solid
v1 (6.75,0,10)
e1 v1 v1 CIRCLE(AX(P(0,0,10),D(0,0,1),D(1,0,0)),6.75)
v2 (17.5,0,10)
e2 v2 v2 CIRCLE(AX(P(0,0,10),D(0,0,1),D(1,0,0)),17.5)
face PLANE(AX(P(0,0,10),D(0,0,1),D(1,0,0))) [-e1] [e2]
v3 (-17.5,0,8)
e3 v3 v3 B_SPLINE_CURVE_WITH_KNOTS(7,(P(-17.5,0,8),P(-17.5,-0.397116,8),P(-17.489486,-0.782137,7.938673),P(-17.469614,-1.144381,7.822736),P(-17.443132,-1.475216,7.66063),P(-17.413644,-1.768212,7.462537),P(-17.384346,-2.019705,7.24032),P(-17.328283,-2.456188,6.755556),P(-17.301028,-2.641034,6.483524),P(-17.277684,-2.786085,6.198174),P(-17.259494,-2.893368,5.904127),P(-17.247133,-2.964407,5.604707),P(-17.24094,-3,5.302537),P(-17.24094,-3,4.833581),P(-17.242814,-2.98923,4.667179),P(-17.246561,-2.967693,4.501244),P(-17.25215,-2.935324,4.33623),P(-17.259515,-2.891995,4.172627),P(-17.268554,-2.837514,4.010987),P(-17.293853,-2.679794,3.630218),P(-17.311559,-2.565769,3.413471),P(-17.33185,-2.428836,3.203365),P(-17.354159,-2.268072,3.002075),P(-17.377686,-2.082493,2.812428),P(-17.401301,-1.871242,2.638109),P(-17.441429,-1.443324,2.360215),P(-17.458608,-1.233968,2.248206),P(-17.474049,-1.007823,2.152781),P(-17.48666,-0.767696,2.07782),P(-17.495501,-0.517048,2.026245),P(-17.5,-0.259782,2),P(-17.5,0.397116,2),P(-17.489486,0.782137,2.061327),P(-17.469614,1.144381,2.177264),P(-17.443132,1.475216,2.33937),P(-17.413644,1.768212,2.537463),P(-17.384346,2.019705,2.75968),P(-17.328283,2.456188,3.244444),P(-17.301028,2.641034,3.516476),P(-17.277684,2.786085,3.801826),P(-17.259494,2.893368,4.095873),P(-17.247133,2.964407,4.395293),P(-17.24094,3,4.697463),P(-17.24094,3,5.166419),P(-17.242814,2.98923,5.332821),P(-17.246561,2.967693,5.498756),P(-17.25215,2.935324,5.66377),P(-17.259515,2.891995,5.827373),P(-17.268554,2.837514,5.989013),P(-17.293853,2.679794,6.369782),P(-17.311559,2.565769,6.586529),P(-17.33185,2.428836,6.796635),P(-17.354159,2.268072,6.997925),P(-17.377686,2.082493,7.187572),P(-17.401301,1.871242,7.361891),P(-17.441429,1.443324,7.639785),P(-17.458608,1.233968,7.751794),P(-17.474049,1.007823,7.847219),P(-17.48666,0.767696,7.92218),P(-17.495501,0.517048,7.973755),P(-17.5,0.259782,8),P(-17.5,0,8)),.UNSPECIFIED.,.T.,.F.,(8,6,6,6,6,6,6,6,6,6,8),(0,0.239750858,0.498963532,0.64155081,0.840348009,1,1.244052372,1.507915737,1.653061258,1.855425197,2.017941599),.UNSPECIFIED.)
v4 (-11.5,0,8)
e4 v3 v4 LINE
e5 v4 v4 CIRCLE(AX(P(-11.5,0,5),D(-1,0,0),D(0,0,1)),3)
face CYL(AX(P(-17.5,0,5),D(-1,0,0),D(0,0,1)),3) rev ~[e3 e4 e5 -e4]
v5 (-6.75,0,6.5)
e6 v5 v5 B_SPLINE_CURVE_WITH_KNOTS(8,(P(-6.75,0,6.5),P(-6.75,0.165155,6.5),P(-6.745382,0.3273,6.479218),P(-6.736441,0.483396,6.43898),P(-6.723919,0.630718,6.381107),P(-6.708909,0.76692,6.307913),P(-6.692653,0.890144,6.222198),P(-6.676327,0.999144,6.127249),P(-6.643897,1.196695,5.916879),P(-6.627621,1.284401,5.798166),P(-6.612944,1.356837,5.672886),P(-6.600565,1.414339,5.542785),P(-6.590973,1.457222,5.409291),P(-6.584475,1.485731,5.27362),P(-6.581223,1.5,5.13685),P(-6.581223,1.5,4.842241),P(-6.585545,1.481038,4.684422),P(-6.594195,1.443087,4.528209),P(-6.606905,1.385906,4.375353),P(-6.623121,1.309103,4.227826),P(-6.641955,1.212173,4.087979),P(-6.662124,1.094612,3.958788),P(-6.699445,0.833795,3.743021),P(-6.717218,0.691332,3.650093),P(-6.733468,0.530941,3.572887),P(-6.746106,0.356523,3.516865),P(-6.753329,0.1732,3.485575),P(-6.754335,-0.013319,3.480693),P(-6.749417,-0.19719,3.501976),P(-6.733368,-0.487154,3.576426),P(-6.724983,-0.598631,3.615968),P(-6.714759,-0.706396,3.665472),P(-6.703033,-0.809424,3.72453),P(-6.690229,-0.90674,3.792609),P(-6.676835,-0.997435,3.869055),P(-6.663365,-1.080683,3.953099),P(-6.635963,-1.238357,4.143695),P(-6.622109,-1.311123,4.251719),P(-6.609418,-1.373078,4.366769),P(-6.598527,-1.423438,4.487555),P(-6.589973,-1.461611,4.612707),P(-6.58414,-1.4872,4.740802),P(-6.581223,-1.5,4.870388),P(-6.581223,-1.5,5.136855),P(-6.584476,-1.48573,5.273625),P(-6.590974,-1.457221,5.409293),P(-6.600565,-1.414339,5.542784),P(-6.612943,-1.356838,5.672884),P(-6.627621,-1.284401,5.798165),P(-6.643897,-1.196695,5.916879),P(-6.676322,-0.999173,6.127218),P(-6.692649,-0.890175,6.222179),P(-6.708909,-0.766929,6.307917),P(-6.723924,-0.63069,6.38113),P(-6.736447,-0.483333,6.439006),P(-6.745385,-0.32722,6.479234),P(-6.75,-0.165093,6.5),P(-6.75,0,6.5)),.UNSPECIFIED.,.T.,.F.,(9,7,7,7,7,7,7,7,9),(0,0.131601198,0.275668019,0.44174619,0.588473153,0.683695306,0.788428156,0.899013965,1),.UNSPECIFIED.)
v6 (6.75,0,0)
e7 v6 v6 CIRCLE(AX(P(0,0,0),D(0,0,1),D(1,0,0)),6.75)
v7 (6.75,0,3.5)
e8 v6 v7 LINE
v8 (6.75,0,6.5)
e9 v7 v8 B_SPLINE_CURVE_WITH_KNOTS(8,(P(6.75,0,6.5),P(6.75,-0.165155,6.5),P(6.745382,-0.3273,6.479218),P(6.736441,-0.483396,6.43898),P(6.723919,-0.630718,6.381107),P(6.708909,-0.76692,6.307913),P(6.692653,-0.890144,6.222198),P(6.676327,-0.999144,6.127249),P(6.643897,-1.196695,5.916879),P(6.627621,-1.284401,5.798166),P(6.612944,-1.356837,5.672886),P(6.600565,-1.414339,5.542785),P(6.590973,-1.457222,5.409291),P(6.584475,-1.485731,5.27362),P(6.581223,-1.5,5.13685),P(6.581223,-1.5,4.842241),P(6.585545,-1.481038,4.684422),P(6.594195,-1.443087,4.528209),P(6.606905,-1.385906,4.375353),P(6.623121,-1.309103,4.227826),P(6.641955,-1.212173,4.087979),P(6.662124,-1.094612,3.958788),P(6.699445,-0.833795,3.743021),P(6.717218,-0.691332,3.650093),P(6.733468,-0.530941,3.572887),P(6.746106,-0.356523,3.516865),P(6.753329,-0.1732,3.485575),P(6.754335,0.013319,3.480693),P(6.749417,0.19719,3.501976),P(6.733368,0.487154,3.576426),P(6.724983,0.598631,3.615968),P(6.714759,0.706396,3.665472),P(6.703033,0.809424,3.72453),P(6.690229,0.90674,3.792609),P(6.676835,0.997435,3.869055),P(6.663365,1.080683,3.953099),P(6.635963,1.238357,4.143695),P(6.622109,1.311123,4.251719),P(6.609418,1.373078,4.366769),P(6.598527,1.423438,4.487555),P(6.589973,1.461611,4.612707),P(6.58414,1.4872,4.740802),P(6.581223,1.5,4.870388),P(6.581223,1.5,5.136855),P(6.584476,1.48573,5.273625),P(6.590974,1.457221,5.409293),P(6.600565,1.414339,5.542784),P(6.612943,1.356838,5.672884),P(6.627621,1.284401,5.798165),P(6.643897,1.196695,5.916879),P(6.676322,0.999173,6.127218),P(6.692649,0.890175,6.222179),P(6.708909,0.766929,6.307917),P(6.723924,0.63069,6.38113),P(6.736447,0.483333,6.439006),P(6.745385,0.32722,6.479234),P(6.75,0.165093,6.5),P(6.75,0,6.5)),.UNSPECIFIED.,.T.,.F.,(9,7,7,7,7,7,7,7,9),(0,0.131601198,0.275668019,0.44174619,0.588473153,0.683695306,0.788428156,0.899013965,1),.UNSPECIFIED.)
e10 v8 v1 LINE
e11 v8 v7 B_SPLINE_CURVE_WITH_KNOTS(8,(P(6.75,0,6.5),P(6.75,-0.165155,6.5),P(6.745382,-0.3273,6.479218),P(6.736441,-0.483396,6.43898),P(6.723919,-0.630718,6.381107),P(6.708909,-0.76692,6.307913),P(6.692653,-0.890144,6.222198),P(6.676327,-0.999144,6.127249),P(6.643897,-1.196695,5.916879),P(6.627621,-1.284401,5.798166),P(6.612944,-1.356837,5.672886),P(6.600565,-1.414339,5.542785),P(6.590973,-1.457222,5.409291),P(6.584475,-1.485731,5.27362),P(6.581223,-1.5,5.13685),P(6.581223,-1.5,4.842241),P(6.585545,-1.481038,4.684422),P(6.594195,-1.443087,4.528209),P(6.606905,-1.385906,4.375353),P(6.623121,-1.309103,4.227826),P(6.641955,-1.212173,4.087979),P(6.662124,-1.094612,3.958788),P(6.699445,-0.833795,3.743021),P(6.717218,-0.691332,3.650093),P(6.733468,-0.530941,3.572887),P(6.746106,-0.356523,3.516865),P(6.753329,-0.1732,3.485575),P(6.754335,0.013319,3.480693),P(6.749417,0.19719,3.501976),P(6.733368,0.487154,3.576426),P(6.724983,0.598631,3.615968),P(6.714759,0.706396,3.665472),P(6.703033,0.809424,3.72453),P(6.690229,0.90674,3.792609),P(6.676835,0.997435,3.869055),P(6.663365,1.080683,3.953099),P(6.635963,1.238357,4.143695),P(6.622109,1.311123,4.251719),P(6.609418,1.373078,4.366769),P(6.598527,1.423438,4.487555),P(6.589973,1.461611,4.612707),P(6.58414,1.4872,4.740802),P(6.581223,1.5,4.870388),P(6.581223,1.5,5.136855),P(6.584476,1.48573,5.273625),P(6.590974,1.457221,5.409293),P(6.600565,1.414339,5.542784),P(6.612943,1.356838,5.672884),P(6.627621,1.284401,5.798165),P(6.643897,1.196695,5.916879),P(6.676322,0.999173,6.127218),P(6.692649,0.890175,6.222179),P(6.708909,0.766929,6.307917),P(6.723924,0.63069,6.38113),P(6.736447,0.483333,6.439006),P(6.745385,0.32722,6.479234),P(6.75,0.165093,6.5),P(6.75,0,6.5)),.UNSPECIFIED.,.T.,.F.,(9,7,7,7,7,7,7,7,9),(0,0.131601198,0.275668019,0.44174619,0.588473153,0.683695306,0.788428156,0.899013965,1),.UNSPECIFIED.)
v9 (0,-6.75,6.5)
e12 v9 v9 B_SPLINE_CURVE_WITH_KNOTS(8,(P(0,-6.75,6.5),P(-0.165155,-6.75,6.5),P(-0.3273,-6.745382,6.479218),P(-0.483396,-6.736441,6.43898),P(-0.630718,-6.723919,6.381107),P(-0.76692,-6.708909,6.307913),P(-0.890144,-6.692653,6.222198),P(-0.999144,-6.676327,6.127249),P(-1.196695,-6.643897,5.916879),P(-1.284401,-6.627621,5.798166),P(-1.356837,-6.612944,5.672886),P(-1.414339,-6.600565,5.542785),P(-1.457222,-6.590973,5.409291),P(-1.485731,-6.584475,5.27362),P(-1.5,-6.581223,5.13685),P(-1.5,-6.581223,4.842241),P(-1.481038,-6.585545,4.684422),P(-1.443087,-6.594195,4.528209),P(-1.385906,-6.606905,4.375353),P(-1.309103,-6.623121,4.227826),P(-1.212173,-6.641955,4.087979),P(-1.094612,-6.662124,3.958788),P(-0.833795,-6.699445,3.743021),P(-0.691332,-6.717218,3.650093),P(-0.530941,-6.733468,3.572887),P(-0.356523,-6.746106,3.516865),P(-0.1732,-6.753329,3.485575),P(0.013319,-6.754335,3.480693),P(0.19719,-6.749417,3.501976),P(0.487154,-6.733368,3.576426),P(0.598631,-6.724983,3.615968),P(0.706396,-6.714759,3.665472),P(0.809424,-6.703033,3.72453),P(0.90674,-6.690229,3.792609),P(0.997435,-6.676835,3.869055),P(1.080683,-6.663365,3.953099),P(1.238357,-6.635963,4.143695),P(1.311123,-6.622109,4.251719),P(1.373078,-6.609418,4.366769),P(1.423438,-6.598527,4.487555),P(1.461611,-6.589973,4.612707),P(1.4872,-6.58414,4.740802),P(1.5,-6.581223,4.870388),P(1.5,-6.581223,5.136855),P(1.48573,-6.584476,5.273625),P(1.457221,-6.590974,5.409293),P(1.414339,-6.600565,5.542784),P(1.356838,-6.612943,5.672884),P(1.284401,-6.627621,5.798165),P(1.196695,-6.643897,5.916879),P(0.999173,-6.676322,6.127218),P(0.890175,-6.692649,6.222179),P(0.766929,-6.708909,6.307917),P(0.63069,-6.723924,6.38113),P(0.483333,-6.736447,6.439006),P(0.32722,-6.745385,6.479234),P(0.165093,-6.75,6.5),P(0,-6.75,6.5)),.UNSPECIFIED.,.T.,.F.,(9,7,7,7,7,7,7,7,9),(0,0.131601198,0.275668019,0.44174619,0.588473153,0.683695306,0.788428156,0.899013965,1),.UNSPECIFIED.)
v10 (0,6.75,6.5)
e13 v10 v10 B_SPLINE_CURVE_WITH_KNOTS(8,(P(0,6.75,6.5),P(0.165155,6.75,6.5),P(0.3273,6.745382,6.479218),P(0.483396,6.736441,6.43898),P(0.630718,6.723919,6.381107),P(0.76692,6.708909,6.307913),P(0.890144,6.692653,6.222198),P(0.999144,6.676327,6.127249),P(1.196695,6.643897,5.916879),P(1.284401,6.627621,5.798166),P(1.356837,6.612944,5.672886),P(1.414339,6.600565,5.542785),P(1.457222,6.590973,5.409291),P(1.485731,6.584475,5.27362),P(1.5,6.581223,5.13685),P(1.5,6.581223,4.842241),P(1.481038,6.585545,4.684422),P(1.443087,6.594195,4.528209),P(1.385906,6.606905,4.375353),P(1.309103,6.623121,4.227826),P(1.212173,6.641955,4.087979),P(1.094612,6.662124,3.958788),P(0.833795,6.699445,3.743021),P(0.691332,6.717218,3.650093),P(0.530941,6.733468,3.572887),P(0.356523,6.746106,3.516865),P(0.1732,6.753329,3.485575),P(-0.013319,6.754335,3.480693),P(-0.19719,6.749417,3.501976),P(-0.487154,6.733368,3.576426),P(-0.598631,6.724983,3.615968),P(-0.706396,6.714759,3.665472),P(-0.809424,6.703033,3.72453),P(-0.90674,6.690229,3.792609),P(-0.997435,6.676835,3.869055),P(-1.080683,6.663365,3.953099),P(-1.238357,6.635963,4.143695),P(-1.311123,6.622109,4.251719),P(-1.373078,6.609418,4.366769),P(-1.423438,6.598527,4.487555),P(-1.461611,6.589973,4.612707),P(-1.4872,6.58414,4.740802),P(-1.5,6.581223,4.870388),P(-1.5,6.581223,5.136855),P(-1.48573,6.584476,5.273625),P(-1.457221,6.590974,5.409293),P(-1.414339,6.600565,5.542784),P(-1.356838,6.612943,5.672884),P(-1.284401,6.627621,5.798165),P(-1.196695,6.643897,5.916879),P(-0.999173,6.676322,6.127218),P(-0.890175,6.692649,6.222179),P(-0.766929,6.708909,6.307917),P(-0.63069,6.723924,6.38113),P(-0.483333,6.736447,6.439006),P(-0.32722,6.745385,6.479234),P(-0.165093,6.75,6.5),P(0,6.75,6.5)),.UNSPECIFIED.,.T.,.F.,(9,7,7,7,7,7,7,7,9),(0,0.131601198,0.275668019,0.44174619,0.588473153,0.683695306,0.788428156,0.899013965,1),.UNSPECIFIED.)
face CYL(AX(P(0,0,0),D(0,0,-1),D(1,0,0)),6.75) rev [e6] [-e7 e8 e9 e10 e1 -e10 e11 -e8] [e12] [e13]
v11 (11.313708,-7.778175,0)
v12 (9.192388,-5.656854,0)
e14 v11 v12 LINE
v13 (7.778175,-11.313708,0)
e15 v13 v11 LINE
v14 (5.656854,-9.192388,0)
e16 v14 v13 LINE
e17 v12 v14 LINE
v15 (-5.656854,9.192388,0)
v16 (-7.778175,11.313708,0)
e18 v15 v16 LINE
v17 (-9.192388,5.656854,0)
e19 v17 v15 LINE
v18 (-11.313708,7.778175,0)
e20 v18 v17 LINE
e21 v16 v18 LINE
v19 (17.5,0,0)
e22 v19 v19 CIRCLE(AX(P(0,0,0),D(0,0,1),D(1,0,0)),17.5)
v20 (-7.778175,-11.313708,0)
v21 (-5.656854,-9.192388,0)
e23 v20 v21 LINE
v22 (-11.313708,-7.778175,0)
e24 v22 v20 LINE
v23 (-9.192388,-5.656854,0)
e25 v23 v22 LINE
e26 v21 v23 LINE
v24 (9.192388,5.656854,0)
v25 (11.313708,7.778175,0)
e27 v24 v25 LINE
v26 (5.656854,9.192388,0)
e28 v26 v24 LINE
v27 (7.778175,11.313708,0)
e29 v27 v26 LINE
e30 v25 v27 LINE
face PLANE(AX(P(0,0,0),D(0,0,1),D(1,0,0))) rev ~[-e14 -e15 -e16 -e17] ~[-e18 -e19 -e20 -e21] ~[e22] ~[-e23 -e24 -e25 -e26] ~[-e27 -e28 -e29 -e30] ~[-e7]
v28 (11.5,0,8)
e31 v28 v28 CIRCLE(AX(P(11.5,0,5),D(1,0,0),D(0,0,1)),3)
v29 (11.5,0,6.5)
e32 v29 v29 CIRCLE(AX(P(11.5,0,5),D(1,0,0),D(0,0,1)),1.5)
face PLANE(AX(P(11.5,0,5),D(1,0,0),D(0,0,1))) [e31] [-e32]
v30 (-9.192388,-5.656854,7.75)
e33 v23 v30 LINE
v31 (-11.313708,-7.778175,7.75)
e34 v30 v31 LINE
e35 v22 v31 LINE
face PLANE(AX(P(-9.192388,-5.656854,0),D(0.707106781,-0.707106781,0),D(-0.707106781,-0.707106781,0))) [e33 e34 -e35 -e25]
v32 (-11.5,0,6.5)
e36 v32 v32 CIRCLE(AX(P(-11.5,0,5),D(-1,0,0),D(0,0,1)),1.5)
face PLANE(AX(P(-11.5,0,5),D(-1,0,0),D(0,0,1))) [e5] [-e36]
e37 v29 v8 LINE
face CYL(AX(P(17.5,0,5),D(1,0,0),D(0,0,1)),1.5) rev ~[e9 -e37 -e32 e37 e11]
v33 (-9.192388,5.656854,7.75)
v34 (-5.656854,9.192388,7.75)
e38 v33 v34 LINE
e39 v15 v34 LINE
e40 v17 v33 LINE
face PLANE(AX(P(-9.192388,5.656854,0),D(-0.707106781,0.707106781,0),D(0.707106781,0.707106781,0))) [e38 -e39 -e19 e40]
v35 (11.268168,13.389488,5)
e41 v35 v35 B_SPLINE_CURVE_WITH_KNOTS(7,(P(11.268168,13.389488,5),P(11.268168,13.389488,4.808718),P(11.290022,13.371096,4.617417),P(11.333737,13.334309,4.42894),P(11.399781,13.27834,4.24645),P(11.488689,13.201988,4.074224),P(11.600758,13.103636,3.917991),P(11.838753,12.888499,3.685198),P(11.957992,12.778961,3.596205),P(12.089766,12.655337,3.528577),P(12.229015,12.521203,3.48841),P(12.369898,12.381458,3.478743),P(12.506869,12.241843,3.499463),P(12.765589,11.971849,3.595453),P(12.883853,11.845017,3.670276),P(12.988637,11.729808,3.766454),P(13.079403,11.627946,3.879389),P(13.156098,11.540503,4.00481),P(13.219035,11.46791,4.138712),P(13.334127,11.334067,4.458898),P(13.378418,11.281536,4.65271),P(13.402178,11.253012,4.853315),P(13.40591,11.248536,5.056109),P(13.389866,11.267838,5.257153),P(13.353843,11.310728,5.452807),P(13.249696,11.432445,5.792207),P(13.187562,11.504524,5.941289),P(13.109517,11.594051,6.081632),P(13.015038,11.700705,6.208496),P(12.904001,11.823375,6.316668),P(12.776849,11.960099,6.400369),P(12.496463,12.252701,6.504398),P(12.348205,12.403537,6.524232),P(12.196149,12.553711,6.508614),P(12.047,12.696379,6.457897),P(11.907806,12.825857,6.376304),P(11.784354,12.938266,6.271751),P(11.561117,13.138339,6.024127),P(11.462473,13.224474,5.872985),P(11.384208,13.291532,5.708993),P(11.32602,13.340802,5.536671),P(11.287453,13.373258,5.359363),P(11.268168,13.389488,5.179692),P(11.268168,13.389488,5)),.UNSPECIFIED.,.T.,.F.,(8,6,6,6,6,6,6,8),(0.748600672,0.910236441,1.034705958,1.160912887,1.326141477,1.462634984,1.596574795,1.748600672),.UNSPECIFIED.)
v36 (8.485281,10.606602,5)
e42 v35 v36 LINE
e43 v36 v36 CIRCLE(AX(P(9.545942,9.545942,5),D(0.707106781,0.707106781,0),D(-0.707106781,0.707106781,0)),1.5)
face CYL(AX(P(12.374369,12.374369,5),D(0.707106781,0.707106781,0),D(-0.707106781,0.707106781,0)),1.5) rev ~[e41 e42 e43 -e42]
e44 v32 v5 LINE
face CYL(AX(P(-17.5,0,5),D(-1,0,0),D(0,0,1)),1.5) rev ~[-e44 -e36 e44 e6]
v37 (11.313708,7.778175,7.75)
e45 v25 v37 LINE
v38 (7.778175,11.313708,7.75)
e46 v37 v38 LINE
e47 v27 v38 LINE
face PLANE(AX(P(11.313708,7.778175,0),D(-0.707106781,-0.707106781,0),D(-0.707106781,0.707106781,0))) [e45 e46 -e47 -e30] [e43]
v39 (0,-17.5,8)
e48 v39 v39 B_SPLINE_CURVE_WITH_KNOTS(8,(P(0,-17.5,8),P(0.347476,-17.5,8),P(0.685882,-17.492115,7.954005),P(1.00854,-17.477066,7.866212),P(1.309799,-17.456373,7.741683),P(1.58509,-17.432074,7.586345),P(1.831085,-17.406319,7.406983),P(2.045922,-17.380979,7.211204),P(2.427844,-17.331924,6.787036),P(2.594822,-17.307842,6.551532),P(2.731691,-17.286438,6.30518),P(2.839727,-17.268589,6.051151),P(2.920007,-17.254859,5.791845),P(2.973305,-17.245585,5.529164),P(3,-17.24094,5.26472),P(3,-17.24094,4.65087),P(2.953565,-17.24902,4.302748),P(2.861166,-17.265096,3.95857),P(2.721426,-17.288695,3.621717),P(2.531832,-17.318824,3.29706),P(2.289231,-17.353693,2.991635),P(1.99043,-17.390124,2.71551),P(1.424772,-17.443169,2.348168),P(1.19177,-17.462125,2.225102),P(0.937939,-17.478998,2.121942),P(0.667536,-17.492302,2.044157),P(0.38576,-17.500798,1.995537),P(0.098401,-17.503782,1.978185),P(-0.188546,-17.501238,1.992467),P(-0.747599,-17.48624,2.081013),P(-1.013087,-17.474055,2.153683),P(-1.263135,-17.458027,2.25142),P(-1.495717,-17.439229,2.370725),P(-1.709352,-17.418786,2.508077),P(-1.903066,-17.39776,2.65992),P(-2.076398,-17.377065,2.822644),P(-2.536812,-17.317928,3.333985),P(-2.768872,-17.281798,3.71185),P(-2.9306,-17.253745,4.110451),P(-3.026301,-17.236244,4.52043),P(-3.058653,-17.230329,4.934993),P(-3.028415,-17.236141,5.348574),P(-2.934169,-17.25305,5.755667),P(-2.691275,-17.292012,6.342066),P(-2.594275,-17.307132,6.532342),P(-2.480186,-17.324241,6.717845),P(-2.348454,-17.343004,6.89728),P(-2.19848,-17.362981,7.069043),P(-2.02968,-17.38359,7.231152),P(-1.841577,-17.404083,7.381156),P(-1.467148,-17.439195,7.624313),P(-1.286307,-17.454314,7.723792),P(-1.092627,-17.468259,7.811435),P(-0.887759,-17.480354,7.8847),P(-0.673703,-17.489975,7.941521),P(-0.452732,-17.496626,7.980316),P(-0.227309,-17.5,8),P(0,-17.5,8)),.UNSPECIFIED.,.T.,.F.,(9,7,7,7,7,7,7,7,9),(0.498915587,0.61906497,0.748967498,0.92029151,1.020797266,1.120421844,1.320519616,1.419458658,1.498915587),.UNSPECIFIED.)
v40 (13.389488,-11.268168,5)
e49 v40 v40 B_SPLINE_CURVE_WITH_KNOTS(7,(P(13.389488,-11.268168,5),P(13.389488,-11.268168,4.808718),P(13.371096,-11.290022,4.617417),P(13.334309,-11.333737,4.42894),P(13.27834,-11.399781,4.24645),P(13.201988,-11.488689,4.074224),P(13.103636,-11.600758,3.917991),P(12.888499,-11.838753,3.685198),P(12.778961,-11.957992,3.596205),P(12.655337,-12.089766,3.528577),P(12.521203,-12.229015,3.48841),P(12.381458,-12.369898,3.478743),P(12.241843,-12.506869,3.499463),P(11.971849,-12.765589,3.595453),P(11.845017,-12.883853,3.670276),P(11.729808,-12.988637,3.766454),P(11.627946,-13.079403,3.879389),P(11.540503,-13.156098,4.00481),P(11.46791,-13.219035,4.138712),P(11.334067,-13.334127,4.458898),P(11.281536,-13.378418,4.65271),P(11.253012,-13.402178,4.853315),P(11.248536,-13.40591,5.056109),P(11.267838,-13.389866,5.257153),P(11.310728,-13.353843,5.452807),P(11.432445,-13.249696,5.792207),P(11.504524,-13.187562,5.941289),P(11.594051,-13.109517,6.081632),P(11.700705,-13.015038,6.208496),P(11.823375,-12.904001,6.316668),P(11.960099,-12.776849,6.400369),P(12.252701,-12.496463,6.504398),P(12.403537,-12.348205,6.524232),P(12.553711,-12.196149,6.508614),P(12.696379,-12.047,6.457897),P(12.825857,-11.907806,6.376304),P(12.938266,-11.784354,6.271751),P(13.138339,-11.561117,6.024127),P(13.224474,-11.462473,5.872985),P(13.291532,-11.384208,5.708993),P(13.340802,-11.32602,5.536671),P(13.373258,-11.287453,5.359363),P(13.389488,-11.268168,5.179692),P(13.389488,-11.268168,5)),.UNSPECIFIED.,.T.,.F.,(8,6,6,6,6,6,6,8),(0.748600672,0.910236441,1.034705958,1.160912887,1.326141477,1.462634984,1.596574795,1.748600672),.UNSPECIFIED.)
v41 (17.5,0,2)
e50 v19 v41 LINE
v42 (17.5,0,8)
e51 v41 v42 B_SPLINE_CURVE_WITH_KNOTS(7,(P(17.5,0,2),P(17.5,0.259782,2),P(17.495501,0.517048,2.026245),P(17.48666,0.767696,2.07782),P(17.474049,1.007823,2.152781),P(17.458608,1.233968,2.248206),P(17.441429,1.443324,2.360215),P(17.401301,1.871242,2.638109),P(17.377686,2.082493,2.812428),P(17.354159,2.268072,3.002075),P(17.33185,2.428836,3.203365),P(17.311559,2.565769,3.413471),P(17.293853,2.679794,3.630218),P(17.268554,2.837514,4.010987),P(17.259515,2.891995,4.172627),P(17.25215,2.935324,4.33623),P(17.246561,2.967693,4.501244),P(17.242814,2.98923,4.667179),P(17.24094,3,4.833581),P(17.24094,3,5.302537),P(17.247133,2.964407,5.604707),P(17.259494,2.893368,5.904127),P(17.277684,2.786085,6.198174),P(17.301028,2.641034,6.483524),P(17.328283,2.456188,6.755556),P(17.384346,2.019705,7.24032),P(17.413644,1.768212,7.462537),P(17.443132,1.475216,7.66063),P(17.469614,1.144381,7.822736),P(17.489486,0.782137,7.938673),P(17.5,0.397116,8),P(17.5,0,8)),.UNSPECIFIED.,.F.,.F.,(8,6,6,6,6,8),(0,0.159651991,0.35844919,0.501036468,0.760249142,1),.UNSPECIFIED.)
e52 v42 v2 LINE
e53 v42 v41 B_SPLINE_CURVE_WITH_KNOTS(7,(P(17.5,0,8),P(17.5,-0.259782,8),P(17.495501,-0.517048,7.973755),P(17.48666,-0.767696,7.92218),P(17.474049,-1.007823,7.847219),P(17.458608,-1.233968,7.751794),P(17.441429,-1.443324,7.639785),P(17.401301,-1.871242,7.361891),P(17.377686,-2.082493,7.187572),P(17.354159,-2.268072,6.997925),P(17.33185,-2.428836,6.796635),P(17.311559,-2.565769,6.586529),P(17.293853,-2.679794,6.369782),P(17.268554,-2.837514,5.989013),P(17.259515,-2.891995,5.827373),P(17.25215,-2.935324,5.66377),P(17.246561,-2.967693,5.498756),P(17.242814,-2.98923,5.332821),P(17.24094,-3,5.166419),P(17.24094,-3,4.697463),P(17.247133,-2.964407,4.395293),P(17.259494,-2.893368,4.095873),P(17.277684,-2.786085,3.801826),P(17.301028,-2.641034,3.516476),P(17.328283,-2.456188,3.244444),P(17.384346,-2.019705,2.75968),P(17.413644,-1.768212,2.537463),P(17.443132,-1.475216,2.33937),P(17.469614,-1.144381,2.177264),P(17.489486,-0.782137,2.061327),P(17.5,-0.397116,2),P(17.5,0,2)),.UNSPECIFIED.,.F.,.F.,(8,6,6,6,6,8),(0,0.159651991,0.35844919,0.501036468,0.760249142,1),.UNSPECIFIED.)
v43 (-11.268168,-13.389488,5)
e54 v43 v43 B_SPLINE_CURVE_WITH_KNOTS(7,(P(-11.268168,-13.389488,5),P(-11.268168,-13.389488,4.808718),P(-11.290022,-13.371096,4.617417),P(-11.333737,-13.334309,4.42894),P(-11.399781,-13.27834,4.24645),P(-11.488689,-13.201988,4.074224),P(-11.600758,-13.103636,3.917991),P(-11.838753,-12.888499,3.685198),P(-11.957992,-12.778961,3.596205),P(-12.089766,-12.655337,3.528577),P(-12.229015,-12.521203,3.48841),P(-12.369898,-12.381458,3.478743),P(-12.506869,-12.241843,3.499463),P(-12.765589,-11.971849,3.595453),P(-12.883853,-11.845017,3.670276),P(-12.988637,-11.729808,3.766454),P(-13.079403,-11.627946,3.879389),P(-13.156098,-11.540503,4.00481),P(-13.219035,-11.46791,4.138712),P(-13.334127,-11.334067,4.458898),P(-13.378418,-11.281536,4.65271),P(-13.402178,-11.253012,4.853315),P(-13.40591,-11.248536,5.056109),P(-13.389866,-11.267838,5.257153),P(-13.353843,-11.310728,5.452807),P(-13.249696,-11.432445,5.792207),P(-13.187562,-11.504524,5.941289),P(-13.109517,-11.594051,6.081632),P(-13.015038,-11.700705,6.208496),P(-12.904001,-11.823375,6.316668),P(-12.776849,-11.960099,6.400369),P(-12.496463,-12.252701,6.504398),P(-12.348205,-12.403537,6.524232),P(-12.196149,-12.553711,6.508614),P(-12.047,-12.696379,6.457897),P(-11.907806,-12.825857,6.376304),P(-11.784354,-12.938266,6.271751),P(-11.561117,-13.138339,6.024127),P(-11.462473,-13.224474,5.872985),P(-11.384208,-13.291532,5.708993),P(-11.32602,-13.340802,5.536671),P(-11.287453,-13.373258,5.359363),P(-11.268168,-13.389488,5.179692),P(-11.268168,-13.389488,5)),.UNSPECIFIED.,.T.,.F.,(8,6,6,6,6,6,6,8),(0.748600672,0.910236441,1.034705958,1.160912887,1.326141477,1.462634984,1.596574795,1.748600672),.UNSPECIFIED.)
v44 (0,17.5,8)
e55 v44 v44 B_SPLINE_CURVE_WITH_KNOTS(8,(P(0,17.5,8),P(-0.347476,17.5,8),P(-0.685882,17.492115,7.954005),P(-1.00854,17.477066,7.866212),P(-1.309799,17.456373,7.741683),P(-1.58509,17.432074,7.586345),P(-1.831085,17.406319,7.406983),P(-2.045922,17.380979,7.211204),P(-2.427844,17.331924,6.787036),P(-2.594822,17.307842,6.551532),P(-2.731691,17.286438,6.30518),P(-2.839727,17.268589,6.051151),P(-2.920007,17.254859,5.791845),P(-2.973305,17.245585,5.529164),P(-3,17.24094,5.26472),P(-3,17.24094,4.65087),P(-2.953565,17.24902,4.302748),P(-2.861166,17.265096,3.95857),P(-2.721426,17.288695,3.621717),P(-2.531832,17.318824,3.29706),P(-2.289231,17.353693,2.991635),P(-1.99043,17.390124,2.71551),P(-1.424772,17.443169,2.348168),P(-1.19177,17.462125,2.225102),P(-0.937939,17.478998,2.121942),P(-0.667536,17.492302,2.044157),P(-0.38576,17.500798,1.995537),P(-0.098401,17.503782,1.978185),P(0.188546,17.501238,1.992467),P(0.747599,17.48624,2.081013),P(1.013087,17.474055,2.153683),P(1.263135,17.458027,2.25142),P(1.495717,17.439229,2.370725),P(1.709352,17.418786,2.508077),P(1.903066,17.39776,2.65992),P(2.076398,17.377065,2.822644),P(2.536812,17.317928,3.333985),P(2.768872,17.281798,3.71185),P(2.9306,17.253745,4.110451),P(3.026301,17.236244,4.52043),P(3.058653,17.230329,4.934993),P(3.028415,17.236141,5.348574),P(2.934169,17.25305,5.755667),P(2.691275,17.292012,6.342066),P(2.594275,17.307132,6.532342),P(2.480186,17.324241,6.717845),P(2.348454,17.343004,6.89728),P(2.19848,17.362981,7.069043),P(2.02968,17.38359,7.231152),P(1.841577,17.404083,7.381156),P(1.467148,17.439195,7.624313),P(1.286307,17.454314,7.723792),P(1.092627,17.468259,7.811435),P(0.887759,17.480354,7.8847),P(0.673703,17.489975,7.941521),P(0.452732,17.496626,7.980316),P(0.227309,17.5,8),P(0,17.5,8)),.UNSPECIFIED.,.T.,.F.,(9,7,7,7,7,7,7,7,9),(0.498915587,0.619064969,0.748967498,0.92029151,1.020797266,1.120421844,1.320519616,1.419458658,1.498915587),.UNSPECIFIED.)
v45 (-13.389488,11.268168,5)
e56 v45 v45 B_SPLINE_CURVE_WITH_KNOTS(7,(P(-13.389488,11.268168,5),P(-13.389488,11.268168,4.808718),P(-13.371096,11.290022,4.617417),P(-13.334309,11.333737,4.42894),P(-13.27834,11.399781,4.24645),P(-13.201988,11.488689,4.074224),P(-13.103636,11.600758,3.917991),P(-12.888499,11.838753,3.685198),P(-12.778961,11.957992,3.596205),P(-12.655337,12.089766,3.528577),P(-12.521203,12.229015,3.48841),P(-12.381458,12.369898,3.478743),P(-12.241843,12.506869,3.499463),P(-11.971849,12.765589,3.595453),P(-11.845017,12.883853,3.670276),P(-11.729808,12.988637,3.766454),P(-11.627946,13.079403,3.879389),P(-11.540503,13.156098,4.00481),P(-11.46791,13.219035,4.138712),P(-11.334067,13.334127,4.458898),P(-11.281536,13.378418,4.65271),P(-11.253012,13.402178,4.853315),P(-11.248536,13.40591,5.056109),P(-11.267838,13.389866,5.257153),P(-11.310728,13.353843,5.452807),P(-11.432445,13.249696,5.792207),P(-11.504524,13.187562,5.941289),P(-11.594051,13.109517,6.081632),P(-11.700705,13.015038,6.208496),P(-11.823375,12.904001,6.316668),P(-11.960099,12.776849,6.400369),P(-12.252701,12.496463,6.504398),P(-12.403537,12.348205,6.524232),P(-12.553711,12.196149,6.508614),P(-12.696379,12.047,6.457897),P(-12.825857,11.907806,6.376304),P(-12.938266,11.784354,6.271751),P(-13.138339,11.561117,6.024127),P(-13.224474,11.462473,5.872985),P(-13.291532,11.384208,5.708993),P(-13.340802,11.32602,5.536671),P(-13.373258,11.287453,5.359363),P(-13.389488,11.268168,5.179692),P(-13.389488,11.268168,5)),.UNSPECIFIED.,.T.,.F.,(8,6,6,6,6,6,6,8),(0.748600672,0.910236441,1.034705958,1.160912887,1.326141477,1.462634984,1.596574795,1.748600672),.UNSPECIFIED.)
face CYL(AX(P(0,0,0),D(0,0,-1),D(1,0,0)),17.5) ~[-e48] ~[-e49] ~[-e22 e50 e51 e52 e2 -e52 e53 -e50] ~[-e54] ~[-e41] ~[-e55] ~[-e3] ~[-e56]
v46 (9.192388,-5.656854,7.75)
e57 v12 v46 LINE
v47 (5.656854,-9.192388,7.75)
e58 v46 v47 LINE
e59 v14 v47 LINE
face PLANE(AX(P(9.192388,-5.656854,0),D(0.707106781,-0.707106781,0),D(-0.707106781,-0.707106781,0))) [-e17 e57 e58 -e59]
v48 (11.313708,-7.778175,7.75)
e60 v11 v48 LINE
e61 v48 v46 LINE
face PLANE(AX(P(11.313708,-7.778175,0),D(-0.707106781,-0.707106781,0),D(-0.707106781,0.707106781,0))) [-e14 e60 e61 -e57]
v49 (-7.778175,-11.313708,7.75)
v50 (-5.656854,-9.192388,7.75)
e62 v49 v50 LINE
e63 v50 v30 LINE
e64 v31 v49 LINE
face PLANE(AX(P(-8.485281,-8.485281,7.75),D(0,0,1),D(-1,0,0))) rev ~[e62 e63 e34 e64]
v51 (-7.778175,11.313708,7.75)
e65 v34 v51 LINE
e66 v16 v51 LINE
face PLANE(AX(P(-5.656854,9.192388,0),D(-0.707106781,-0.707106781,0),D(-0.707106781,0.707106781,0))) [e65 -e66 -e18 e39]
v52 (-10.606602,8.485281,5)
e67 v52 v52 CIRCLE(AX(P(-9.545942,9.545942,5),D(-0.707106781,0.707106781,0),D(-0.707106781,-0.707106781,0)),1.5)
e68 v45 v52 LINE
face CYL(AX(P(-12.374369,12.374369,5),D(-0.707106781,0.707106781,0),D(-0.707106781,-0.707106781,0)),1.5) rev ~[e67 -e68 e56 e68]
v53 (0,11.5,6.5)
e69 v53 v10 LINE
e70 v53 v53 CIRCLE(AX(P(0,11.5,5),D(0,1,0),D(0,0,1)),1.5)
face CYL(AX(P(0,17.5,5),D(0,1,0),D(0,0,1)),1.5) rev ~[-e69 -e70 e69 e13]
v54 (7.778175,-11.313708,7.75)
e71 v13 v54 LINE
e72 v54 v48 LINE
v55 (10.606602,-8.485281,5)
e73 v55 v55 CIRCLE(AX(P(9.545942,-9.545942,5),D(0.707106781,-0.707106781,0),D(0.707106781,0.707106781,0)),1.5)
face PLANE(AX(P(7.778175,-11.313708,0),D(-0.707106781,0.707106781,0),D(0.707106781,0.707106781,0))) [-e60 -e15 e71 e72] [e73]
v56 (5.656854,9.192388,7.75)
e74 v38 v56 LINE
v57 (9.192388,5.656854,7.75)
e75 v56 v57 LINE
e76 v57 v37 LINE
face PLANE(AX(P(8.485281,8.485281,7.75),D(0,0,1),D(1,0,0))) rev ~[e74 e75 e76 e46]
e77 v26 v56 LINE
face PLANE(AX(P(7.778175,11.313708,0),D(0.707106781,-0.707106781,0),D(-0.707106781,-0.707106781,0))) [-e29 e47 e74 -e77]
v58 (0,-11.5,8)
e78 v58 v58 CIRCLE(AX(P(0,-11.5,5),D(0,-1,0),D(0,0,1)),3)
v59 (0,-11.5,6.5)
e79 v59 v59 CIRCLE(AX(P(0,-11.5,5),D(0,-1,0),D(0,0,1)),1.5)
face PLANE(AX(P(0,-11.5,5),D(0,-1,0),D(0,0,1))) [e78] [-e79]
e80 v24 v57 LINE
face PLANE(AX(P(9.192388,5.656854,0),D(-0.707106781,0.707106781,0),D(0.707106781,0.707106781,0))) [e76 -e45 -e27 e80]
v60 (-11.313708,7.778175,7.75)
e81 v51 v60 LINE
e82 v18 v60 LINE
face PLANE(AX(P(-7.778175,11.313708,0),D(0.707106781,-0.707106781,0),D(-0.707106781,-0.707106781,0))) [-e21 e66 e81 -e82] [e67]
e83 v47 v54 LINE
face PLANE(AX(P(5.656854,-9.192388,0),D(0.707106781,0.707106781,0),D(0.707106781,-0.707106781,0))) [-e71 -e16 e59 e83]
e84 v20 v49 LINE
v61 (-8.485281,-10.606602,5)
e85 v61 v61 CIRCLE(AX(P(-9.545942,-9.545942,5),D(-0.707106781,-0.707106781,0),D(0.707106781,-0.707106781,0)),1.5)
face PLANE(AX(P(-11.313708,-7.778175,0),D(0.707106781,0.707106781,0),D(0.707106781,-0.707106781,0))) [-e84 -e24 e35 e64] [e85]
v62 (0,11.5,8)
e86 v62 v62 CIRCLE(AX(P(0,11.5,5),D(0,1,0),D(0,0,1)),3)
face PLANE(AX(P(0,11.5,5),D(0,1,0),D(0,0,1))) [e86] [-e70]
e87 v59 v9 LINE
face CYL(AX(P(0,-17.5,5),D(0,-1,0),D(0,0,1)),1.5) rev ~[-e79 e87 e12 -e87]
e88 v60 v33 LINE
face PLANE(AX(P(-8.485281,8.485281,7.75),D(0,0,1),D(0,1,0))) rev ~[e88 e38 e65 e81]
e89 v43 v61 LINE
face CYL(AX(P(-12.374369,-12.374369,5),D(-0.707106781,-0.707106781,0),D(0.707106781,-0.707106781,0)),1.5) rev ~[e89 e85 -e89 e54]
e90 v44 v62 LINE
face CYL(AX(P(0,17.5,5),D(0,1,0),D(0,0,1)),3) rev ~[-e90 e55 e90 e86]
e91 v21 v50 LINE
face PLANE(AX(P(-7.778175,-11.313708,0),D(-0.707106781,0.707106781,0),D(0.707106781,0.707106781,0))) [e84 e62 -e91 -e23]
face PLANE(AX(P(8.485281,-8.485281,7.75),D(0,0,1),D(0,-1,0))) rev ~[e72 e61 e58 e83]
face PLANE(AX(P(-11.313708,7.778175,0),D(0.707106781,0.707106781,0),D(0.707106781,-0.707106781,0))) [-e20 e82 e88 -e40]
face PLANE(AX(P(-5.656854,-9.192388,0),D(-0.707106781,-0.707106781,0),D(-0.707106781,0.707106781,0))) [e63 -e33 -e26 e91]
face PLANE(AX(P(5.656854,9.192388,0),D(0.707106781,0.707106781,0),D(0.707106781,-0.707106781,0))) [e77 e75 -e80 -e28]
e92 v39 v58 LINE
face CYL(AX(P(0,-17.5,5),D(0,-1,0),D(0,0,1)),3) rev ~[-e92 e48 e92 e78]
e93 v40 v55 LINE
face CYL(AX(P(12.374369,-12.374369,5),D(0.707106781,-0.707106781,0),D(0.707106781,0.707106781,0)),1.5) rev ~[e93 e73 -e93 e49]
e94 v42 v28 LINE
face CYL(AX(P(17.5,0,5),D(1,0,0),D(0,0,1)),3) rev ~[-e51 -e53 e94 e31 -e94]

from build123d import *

# Parameters (mm, degrees)
ESBO_O1_R                  = 17.5
ESBO_O1_R_2                = 6.75
RESSALTO_EXTRUS_O1_DEPTH   = 10
ESBO_O2_R                  = 3
ESBO_O2_R_2                = 1.5
CORTE_EXTRUS_O1_DEPTH      = 6
CORTE_EXTRUS_O2_REACH      = 42.389
CORTE_EXTRUS_O2_END_RADIUS = 6.75
ESBO_O2_3_R                = 1.5
PADR_OCIRCULAR1_COUNT      = 4
ESBO_O5_R                  = 1.5
CORTE_EXTRUS_O3_DEPTH      = 5
PADR_OCIRCULAR2_COUNT      = 4
CORTE_EXTRUS_O4_DEPTH      = 7.75
PADR_OCIRCULAR3_COUNT      = 4


with BuildPart() as part:
    # Esbo_o1 → Ressalto-extrus_o1 (new body)
    with BuildSketch(Plane.XY):
        Circle(ESBO_O1_R)
        Circle(ESBO_O1_R_2, mode=Mode.SUBTRACT)
    extrude(amount=RESSALTO_EXTRUS_O1_DEPTH)

    # Esbo_o2 → Corte-extrus_o1 (cut)
    # profile 1 of 2: a face of its own
    with BuildSketch(Plane(origin=(0, 17.5, 0), x_dir=(1, 0, 0), z_dir=(0, 1, 0))):
        with Locations(Location((0, -5, 0), (0, 0, 270))):
            Circle(ESBO_O2_R)
        with Locations((0, -5)):
            Circle(ESBO_O2_R_2, mode=Mode.SUBTRACT)
    # profile 2 of 2: a face of its own
    with BuildSketch(Plane(origin=(0, 17.5, 0), x_dir=(1, 0, 0), z_dir=(0, 1, 0))):
        with Locations((0, -5)):
            Circle(ESBO_O2_R_2)
    corte_extrus_o1 = extrude(amount=-CORTE_EXTRUS_O1_DEPTH, mode=Mode.SUBTRACT)

    # Corte-extrus_o2: up to this cylinder (the profile starts outside it)
    corte_extrus_o2_end = Plane(origin=(0, 0, 5), z_dir=(0, 0, -1)) * Cylinder(CORTE_EXTRUS_O2_END_RADIUS, 99.278, mode=Mode.PRIVATE)
    # Esbo_o2_3 → Corte-extrus_o2 (cut, up to the surface)
    with BuildSketch(Plane(origin=(0, 17.5, 0), x_dir=(1, 0, 0), z_dir=(0, 1, 0)), mode=Mode.PRIVATE) as corte_extrus_o2_sk1:
        with Locations(Location((0, -5, 0), (0, 0, 270))):
            Circle(ESBO_O2_3_R)
    corte_extrus_o2_tool1 = extrude(corte_extrus_o2_sk1.sketch, amount=-CORTE_EXTRUS_O2_REACH, mode=Mode.PRIVATE) - corte_extrus_o2_end
    corte_extrus_o2 = corte_extrus_o2_tool1.solids().sort_by_distance((0, 17.5, 5))[0]
    add(corte_extrus_o2, mode=Mode.SUBTRACT)

    # Padr_oCircular1: Corte-extrus_o1, Corte-extrus_o2 ×4 about axis
    padr_ocircular1_axis = Axis((0, 0, 0), (0, 0, 1))
    add([corte_extrus_o1.rotate(padr_ocircular1_axis, i * 360 / PADR_OCIRCULAR1_COUNT) for i in range(1, PADR_OCIRCULAR1_COUNT)], mode=Mode.SUBTRACT)
    add([corte_extrus_o2.rotate(padr_ocircular1_axis, i * 360 / PADR_OCIRCULAR1_COUNT) for i in range(1, PADR_OCIRCULAR1_COUNT)], mode=Mode.SUBTRACT)

    # Esbo_o5 → Corte-extrus_o3 (cut)
    with BuildSketch(Plane(origin=(-12.374368671, 12.374368671, 0), x_dir=(0, 0, -1), z_dir=(-0.7071067811865488, 0.7071067811865464, 0))):
        with Locations(Location((-5, 0, 0), (0, 0, 90))):
            Circle(ESBO_O5_R)
    corte_extrus_o3 = extrude(amount=-CORTE_EXTRUS_O3_DEPTH, mode=Mode.SUBTRACT)

    # Padr_oCircular2: Corte-extrus_o3 ×4 about axis
    padr_ocircular2_axis = Axis((0, 0, 0), (0, 0, 1))
    for i in range(1, PADR_OCIRCULAR2_COUNT):
        add(corte_extrus_o3.rotate(padr_ocircular2_axis, i * 360 / PADR_OCIRCULAR2_COUNT), mode=Mode.SUBTRACT)

    # Esbo_o6 → Corte-extrus_o4 (cut)
    with BuildSketch(Plane(origin=(0, 0, 0), x_dir=(-1, 0, 0), z_dir=(0, 0, -1))):
        Polygon((-11.313708499, 7.778174593), (-7.778174593, 11.313708499), (-5.656854249, 9.192388155), (-9.192388155, 5.656854249), align=None)
    corte_extrus_o4 = extrude(amount=-CORTE_EXTRUS_O4_DEPTH, mode=Mode.SUBTRACT)

    # Padr_oCircular3: Corte-extrus_o4 ×4 about axis
    padr_ocircular3_axis = Axis((0, 0, 0), (0, 0, 1))
    for i in range(1, PADR_OCIRCULAR3_COUNT):
        add(corte_extrus_o4.rotate(padr_ocircular3_axis, i * 360 / PADR_OCIRCULAR3_COUNT), mode=Mode.SUBTRACT)


solid = part.part
